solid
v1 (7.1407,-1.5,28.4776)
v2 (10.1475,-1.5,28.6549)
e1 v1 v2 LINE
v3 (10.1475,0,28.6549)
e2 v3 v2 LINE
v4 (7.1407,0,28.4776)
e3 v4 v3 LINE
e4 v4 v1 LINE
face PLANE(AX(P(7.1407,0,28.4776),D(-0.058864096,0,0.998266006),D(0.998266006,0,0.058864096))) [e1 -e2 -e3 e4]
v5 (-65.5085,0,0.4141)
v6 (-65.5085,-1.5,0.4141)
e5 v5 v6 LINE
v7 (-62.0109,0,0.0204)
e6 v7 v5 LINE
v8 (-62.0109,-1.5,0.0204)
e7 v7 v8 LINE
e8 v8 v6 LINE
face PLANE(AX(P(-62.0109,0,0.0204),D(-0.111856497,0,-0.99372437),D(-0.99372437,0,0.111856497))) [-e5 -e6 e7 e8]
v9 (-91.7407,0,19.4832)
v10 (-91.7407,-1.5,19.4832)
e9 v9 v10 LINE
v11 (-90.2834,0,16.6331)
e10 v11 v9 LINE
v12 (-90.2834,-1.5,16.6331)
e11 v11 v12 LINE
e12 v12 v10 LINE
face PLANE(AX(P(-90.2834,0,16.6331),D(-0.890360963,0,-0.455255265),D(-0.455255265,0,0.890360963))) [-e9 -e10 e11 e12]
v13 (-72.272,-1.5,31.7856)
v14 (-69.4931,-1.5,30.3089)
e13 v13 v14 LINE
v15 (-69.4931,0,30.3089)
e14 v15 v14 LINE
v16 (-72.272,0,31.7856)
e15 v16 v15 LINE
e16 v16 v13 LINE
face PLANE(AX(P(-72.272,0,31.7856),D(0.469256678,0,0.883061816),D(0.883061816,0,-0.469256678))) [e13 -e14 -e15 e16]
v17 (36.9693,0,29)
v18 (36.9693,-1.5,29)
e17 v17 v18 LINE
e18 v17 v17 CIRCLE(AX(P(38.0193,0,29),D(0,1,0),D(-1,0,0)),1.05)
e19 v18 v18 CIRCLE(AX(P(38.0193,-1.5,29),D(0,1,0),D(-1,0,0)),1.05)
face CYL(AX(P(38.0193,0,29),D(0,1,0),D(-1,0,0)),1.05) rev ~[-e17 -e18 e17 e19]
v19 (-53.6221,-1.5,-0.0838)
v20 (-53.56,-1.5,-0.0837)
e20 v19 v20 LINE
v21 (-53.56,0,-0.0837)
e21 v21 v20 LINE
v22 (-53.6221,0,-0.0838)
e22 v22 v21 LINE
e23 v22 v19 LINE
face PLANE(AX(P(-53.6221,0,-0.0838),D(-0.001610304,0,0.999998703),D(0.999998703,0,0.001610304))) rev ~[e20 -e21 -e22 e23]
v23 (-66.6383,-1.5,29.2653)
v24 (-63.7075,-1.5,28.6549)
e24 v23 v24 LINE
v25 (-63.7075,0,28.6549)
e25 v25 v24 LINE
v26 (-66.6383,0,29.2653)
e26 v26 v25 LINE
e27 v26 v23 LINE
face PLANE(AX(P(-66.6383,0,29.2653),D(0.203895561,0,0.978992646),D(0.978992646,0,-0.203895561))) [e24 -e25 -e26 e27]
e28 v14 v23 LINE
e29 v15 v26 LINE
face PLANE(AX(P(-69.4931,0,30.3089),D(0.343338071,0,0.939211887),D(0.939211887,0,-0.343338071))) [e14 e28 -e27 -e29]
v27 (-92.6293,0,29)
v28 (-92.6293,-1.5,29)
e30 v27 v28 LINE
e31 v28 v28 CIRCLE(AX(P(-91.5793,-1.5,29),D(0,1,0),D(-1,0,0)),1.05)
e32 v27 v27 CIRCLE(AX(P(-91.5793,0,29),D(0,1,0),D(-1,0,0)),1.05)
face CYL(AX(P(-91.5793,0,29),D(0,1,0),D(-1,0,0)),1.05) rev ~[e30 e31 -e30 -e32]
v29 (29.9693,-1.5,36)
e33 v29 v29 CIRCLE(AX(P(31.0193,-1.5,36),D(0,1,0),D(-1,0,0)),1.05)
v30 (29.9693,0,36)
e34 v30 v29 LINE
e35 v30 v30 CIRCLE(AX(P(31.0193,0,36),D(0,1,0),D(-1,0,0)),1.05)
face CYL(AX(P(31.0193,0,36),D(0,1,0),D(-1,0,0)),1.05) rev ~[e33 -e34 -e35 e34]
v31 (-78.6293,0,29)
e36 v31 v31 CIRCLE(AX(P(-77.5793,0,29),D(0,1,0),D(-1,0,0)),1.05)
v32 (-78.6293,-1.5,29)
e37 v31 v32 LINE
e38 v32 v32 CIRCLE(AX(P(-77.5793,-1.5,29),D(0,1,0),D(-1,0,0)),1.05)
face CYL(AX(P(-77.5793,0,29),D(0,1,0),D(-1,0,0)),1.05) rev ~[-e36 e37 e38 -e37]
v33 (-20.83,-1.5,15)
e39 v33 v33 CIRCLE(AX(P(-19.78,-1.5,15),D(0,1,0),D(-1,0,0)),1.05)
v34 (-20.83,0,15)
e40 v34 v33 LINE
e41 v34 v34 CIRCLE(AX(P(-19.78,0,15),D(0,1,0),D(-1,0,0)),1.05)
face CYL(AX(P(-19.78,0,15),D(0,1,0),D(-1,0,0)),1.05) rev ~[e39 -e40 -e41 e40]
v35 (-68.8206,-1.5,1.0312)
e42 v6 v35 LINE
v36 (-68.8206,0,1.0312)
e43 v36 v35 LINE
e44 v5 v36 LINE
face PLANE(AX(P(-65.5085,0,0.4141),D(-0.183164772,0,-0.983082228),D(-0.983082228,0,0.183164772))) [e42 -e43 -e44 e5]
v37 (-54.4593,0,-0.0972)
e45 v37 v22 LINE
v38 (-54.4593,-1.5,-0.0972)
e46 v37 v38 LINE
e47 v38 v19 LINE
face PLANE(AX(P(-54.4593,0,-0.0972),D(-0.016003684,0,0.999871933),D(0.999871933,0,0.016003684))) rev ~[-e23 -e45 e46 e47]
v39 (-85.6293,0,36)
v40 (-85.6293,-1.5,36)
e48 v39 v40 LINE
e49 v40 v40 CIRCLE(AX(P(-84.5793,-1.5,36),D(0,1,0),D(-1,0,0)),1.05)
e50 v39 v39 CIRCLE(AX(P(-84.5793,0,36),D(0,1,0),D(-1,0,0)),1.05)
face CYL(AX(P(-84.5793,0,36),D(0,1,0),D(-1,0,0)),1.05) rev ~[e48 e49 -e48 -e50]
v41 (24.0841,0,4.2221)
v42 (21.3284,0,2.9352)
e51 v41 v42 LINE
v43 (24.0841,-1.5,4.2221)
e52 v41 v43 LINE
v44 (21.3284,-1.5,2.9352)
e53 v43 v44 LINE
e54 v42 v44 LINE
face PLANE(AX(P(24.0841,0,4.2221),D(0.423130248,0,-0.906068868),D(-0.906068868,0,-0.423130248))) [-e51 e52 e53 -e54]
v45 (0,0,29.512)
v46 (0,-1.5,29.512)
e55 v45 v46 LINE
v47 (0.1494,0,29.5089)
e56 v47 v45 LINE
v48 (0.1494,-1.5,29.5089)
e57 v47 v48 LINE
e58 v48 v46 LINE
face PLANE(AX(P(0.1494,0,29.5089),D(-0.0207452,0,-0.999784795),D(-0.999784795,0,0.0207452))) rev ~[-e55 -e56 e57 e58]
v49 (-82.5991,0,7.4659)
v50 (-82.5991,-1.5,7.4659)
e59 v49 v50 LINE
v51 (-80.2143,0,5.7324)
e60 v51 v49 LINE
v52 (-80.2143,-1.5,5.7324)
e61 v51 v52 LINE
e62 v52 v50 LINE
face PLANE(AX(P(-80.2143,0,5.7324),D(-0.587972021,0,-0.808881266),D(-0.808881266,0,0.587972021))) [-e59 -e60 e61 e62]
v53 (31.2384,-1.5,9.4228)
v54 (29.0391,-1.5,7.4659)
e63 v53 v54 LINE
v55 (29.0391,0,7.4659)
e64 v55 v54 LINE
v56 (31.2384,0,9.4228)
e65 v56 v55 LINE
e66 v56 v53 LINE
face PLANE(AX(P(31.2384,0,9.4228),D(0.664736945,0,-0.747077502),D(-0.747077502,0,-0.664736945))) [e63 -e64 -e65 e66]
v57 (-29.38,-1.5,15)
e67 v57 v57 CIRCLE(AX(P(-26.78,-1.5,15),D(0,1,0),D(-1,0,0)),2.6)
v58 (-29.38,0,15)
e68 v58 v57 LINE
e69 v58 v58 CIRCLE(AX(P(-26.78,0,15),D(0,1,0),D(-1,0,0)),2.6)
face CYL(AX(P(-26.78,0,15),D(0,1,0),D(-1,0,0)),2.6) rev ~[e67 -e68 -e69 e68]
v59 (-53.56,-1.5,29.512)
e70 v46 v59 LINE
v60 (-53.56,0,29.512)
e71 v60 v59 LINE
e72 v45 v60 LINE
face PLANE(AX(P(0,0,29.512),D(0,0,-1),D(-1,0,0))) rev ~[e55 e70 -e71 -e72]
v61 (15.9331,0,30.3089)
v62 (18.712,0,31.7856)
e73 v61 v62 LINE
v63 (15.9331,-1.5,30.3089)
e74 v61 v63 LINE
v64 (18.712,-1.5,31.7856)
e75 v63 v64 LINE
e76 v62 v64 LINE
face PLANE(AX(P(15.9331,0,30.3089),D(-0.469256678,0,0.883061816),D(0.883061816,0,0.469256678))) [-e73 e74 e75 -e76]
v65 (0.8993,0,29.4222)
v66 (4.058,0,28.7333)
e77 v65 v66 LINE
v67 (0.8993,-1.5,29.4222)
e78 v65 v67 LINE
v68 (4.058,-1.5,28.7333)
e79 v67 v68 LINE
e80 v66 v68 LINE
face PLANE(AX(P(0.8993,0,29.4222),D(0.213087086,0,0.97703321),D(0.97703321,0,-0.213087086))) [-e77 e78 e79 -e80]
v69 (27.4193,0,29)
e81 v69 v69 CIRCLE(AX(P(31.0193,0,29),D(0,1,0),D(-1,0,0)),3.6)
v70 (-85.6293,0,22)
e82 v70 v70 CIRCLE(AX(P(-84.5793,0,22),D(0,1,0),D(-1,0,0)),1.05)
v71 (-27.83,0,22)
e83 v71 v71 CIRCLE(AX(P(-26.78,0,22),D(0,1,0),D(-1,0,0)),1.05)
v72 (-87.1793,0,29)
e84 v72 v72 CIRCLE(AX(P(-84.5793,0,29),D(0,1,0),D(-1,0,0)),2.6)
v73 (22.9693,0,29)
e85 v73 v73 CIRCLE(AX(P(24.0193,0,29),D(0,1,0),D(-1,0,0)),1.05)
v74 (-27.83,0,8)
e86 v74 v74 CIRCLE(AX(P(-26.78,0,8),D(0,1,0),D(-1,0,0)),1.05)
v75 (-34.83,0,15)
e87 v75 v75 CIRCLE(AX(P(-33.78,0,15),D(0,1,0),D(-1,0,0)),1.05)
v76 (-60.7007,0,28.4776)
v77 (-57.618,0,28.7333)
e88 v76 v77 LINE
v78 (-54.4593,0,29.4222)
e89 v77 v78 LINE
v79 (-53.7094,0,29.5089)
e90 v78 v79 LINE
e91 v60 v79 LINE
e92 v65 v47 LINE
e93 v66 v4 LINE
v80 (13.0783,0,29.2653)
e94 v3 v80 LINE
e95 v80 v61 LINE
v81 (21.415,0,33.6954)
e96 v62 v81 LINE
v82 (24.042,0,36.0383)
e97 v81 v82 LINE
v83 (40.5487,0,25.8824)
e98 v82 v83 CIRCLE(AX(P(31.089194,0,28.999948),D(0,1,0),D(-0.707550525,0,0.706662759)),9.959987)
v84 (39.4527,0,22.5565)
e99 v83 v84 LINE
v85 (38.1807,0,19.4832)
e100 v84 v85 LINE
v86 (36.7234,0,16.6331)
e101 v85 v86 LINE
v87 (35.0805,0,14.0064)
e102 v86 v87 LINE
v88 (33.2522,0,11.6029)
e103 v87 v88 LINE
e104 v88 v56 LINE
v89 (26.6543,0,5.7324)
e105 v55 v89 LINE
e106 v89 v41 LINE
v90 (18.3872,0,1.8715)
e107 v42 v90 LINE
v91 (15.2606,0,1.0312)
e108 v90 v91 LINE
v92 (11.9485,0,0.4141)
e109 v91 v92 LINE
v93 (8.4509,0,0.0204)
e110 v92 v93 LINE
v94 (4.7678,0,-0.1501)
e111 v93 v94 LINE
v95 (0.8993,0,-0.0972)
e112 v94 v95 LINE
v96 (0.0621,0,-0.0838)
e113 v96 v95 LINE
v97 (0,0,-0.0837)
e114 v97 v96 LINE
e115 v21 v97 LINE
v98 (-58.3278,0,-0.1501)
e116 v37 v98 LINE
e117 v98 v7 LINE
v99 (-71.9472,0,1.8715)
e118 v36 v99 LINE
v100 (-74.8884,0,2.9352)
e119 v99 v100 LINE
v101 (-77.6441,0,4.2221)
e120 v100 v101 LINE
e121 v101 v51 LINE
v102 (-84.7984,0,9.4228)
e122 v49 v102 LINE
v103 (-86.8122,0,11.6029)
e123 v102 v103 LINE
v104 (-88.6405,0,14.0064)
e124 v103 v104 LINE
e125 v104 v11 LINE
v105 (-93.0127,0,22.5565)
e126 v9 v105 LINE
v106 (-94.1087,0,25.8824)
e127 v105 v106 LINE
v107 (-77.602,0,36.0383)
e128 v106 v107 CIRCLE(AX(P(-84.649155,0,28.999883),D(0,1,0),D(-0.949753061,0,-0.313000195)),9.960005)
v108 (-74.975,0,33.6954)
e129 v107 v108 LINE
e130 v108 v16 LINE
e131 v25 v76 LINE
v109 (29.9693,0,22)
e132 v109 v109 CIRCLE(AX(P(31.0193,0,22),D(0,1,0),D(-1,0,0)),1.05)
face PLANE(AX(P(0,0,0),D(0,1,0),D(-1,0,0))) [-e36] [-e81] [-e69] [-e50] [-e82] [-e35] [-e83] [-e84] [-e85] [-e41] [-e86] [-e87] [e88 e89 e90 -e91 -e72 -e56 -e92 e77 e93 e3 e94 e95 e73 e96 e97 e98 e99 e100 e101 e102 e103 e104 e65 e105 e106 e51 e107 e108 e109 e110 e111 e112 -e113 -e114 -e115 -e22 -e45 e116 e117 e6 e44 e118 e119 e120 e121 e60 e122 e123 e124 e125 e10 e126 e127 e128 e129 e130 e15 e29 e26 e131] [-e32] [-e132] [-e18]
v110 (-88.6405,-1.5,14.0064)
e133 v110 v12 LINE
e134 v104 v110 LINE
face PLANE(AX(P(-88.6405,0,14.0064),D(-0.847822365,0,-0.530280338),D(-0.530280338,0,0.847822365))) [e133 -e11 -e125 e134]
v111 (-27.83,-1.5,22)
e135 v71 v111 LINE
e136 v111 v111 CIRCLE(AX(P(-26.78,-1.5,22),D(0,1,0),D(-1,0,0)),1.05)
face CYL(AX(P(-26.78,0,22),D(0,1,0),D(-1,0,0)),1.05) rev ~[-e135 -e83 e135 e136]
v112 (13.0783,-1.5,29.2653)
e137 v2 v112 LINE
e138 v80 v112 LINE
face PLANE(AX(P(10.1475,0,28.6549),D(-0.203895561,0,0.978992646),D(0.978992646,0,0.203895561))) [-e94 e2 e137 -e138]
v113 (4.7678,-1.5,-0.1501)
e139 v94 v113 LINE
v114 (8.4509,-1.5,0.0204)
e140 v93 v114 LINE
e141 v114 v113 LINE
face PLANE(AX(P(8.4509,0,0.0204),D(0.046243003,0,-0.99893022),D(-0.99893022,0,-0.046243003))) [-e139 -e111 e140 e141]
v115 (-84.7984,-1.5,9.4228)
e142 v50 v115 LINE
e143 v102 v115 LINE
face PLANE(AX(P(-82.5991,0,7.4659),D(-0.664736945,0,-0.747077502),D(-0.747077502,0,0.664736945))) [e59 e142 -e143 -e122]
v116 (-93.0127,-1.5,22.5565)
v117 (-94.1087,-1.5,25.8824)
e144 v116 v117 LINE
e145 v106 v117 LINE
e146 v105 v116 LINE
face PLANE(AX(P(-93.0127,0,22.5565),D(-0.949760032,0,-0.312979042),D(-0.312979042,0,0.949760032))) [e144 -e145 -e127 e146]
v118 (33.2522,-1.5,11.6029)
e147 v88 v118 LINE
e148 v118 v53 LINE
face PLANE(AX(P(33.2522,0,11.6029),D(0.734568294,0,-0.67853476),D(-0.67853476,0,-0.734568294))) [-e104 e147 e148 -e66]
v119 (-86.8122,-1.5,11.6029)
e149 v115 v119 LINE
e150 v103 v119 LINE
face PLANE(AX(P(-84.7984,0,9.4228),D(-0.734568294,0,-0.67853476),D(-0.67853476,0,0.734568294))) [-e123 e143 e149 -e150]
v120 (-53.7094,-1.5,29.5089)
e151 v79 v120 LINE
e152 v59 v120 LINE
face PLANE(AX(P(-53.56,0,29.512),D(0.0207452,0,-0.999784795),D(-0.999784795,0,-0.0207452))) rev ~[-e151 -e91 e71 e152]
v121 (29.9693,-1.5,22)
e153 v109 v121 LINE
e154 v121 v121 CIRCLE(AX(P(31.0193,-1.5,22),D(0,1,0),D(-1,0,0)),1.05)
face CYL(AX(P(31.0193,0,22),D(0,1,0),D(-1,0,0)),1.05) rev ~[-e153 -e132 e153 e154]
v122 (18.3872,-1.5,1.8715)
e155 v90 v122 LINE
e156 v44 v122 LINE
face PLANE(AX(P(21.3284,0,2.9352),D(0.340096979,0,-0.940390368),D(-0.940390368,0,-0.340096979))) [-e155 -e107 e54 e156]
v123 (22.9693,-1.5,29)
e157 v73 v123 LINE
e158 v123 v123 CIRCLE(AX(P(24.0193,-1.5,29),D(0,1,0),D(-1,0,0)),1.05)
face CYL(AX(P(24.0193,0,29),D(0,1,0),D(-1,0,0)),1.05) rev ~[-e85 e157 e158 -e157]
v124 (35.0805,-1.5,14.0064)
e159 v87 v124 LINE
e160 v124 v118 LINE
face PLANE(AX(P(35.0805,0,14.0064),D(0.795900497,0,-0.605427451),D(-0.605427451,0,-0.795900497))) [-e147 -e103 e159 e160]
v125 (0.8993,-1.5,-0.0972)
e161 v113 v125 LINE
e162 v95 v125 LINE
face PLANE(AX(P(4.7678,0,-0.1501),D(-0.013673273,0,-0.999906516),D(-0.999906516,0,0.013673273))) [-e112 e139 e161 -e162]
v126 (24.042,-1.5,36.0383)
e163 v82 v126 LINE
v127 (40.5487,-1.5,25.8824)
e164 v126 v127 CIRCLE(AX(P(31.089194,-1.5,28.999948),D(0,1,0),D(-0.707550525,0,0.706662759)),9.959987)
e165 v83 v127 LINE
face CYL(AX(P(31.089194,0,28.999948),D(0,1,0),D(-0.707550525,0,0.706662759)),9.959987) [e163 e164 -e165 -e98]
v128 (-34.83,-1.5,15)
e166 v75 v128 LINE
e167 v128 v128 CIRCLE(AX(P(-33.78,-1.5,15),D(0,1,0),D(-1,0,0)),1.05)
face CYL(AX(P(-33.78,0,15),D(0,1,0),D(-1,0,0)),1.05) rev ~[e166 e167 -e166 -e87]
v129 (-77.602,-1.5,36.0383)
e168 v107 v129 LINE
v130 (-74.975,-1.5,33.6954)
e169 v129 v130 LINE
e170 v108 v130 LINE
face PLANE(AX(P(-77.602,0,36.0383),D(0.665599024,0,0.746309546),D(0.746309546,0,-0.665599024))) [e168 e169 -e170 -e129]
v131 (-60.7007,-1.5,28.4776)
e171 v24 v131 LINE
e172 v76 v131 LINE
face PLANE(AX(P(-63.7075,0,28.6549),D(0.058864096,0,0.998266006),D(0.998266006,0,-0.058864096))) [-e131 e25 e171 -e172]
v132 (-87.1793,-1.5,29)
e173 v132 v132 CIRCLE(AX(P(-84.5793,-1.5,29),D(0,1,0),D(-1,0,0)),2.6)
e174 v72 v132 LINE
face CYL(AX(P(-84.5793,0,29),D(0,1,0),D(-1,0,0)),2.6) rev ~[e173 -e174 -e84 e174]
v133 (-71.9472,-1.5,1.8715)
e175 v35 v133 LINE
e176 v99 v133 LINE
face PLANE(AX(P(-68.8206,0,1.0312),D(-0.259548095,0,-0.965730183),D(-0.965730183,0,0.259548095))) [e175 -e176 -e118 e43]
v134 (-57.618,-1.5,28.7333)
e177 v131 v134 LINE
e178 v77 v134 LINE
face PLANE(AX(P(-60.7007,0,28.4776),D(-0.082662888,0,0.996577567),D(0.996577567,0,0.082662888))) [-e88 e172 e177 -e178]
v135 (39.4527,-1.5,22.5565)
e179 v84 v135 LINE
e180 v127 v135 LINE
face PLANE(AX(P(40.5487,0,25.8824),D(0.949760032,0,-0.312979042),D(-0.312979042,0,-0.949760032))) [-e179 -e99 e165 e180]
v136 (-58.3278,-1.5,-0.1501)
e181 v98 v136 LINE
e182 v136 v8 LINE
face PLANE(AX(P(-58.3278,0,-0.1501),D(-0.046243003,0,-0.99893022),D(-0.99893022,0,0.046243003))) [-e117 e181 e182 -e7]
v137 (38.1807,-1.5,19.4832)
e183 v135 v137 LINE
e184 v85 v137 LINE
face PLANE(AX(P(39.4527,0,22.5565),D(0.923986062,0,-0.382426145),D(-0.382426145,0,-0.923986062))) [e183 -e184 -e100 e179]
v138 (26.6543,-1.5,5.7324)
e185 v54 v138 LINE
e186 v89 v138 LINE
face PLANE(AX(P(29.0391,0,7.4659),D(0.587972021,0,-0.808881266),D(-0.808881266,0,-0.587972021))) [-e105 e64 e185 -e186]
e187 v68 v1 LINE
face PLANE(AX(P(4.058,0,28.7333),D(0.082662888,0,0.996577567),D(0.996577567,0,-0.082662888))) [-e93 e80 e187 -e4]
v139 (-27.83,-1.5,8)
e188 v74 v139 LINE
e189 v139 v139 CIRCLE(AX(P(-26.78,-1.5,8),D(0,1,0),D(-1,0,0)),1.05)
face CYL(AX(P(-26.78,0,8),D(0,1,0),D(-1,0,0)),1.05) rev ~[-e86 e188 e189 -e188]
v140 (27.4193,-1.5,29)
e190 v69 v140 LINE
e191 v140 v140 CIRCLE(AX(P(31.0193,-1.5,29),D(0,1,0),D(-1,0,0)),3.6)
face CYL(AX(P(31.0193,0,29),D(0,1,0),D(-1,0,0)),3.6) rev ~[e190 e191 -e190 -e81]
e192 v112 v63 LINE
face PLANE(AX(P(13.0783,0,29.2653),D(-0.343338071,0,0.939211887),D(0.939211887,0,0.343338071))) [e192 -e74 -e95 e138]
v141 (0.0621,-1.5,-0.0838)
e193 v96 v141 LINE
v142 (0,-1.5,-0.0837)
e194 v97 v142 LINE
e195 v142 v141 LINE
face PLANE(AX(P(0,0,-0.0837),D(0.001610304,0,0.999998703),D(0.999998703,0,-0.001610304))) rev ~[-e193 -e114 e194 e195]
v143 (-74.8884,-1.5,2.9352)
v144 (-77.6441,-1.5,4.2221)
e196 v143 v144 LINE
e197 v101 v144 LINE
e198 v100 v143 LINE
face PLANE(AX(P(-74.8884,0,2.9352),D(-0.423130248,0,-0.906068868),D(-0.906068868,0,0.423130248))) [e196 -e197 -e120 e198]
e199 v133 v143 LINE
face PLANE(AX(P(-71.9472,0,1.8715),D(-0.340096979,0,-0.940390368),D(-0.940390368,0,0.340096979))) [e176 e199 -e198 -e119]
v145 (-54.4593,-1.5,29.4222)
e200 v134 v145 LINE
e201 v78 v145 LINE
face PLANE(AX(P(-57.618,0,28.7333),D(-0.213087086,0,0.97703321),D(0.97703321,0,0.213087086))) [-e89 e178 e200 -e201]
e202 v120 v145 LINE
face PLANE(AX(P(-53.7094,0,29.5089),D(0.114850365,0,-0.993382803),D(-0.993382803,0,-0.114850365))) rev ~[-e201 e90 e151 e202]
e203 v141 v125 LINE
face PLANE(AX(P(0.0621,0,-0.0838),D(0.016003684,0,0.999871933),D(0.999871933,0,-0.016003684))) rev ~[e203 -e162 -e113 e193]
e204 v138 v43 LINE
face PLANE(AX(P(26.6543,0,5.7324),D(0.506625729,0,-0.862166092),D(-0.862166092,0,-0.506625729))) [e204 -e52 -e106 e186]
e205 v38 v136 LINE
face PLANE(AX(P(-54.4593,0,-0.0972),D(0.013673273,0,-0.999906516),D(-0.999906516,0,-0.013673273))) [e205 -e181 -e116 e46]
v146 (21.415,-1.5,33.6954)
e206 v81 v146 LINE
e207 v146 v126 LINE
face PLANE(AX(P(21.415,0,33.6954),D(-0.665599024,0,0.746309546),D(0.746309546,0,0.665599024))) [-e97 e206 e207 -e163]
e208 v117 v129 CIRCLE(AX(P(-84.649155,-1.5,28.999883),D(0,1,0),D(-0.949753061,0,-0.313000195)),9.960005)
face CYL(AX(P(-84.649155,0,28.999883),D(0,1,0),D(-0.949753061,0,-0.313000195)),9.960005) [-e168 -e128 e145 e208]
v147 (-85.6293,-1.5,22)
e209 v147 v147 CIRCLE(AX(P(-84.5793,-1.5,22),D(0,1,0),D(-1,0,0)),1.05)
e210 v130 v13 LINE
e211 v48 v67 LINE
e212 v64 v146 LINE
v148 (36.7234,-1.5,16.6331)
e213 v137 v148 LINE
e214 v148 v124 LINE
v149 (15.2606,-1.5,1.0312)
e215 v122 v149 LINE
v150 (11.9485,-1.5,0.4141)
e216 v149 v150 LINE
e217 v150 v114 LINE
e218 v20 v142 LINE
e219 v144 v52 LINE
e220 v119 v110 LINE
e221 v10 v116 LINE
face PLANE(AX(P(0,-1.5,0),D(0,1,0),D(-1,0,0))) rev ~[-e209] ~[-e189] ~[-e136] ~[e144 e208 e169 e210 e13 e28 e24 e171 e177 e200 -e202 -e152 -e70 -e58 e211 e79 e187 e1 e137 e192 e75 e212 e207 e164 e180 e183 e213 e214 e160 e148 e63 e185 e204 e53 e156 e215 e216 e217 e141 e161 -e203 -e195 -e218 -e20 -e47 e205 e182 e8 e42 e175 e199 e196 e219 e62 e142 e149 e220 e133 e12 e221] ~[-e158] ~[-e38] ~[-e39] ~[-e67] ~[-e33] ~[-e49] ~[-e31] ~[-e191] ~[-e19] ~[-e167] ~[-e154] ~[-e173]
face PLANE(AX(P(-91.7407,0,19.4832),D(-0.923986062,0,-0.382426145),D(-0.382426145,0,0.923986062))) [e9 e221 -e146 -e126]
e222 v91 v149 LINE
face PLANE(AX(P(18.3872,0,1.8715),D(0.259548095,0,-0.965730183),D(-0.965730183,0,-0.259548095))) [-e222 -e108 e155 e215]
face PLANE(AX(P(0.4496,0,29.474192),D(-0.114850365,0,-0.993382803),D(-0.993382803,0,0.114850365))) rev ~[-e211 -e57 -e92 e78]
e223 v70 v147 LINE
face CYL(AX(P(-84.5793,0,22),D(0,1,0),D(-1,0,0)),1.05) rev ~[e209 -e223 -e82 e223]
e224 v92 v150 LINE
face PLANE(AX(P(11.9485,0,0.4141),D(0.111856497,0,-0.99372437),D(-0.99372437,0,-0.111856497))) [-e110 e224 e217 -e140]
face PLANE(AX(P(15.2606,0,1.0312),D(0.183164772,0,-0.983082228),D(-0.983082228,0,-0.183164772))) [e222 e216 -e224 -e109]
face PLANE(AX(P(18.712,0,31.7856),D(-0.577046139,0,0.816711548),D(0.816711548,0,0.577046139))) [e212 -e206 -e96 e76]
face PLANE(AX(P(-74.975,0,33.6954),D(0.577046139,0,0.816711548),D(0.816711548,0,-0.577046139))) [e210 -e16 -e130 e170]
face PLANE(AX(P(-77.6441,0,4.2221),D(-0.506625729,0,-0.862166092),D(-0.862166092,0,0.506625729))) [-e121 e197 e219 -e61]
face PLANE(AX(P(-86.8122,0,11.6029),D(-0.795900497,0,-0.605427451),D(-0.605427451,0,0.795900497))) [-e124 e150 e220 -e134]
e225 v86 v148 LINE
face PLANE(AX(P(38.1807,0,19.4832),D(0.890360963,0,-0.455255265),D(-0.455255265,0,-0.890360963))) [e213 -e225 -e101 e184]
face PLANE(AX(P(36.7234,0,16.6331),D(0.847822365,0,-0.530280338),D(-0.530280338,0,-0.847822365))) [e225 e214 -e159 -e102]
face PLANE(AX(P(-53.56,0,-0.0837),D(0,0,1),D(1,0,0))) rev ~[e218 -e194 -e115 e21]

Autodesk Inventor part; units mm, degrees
ref_plane "YZ Plane" through (0, 0, 0) normal (1, 0, 0) x (0, 1, 0)
ref_plane "XZ Plane" through (0, 0, 0) normal (0, 1, 0) x (-1, 0, 0)
ref_plane "XY Plane" through (0, 0, 0) normal (0, 0, 1) x (1, 0, 0)
sketch "Sketch1" plane through (0, 0, 0) normal (0, 1, 0) x (-1, 0, 0)
  line L0 (-0.4496, 29.8144) -> (-0.4496, -0.0337)
  line L1 (54.0096, -0.0338) -> (54.0096, 29.8144)
  line L2 (53.5706, 0) -> (53.6221, -0.0838)
  line L3 (53.56, 0) -> (53.5706, 0)
  line L4 (53.56, -0.0837) -> (53.56, 0)
  line L5 (-0.0106, 0) -> (-0.0621, -0.0838)
  line L6 (-0.8993, -0.0972) -> (-0.0106, 0)
  line L7 (53.5706, 0) -> (54.4593, -0.0972)
  line L8 (0, 0) -> (0, -0.0837)
  line L9 (-0.0106, 0) -> (0, 0)
  line L10 (0, 0) -> (53.56, 0)
  line L11 (53.7094, 29.5089) -> (53.5853, 29.9994)
  line L12 (53.56, 29.512) -> (53.7094, 29.5089)
  line L13 (53.56, 30) -> (53.56, 29.512)
  line L14 (-0.1494, 29.5089) -> (-0.0253, 29.9994)
  line L15 (-0.8993, 29.4222) -> (-0.1494, 29.5089)
  line L16 (0, 29.512) -> (0, 30)
  line L17 (-0.1494, 29.5089) -> (0, 29.512)
  line L18 (53.7094, 29.5089) -> (54.4593, 29.4222)
  line L19 (0, 29.512) -> (53.56, 29.512)
  circle A0 centre (26.78, 15) radius 2.6
  circle A1 centre (84.5793, 29) radius 2.6
  circle A2 centre (-31.0193, 29) radius 3.6
  circle A3 centre (91.5793, 29) radius 1.05
  circle A4 centre (84.5793, 36) radius 1.05
  circle A5 centre (84.5793, 22) radius 1.05
  circle A6 centre (77.5793, 29) radius 1.05
  circle A7 centre (-38.0193, 29) radius 1.05
  circle A8 centre (-31.0193, 36) radius 1.05
  circle A9 centre (-31.0193, 22) radius 1.05
  circle A10 centre (-24.0193, 29) radius 1.05
  circle A11 centre (19.78, 15) radius 1.05
  circle A12 centre (26.78, 22) radius 1.05
  circle A13 centre (33.78, 15) radius 1.05
  circle A14 centre (26.78, 8) radius 1.05
  line L20 (53.5853, 29.9994) -> (53.56, 30)
  line L21 (53.6221, -0.0838) -> (53.56, -0.0837)
  line L22 (-0.0621, -0.0838) -> (-0.8993, -0.0972)
  line L23 (-0.0253, 29.9994) -> (-0.8993, 29.4222)
  line L24 (77.602, 36.0383) -> (74.975, 33.6954)
  line L25 (74.975, 33.6954) -> (72.272, 31.7856)
  line L26 (72.272, 31.7856) -> (69.4931, 30.3089)
  line L27 (69.4931, 30.3089) -> (66.6383, 29.2653)
  line L28 (66.6383, 29.2653) -> (63.7075, 28.6549)
  line L29 (63.7075, 28.6549) -> (60.7007, 28.4776)
  line L30 (60.7007, 28.4776) -> (57.618, 28.7333)
  line L31 (57.618, 28.7333) -> (54.4593, 29.4222)
  line L32 (54.4593, -0.0972) -> (53.6221, -0.0838)
  line L33 (-40.5487, 25.8824) -> (-39.4527, 22.5565)
  line L34 (-39.4527, 22.5565) -> (-38.1807, 19.4832)
  line L35 (-38.1807, 19.4832) -> (-36.7234, 16.6331)
  line L36 (-36.7234, 16.6331) -> (-35.0805, 14.0064)
  line L37 (-35.0805, 14.0064) -> (-33.2522, 11.6029)
  line L38 (-33.2522, 11.6029) -> (-31.2384, 9.4228)
  line L39 (-31.2384, 9.4228) -> (-29.0391, 7.4659)
  line L40 (-29.0391, 7.4659) -> (-26.6543, 5.7324)
  line L41 (-26.6543, 5.7324) -> (-24.0841, 4.2221)
  line L42 (-24.0841, 4.2221) -> (-21.3284, 2.9352)
  line L43 (-21.3284, 2.9352) -> (-18.3872, 1.8715)
  line L44 (-18.3872, 1.8715) -> (-15.2606, 1.0312)
  line L45 (-15.2606, 1.0312) -> (-11.9485, 0.4141)
  line L46 (-11.9485, 0.4141) -> (-8.4509, 0.0204)
  line L47 (-8.4509, 0.0204) -> (-4.7678, -0.1501)
  line L48 (-4.7678, -0.1501) -> (-0.8993, -0.0972)
  line L49 (0, 30) -> (-0.0253, 29.9994)
  line L50 (54.4593, -0.0972) -> (58.3278, -0.1501)
  line L51 (58.3278, -0.1501) -> (62.0109, 0.0204)
  line L52 (62.0109, 0.0204) -> (65.5085, 0.4141)
  line L53 (65.5085, 0.4141) -> (68.8206, 1.0312)
  line L54 (68.8206, 1.0312) -> (71.9472, 1.8715)
  line L55 (71.9472, 1.8715) -> (74.8884, 2.9352)
  line L56 (74.8884, 2.9352) -> (77.6441, 4.2221)
  line L57 (77.6441, 4.2221) -> (80.2143, 5.7324)
  line L58 (80.2143, 5.7324) -> (82.5991, 7.4659)
  line L59 (82.5991, 7.4659) -> (84.7984, 9.4228)
  line L60 (84.7984, 9.4228) -> (86.8122, 11.6029)
  line L61 (86.8122, 11.6029) -> (88.6405, 14.0064)
  line L62 (88.6405, 14.0064) -> (90.2834, 16.6331)
  line L63 (90.2834, 16.6331) -> (91.7407, 19.4832)
  line L64 (91.7407, 19.4832) -> (93.0127, 22.5565)
  line L65 (93.0127, 22.5565) -> (94.1087, 25.8824)
  line L66 (54.4593, 29.4222) -> (53.5853, 29.9994)
  line L67 (-0.8993, 29.4222) -> (-4.058, 28.7333)
  line L68 (-4.058, 28.7333) -> (-7.1407, 28.4776)
  line L69 (-7.1407, 28.4776) -> (-10.1475, 28.6549)
  line L70 (-10.1475, 28.6549) -> (-13.0783, 29.2653)
  line L71 (-13.0783, 29.2653) -> (-15.9331, 30.3089)
  line L72 (-15.9331, 30.3089) -> (-18.712, 31.7856)
  line L73 (-18.712, 31.7856) -> (-21.415, 33.6954)
  line L74 (-21.415, 33.6954) -> (-24.042, 36.0383)
  line L75 (0, -0.0837) -> (-0.0621, -0.0838)
  line L76 (53.56, 30) -> (0, 30)
  arc A15 (-24.042, 36.0383) -> (-40.5487, 25.8824) centre (-31.0892, 28.9999) ccw
  arc A16 (94.1087, 25.8824) -> (77.602, 36.0383) centre (84.6492, 28.9999) ccw
  line L77 (53.56, -0.0837) -> (0, -0.0837)
  line L78 (54.4593, 29.4222) -> (54.4593, -0.0972)
  line L79 (-0.8993, -0.0972) -> (-0.8993, 29.4222)
  line L80 (53.56, 0) -> (53.56, 30)
  line L81 (0, 30) -> (0, 0)
  point P0 (0, 0)
extrude "Extrusion2" add sketch "Sketch1" against normal blind 1.5 contours L15 L17 L81 L9 L6 L79 | L79 L48 L47 L46 L45 L44 L43 L42 L41 L40 L39 L38 L37 L36 L35 L34 L33 A15 L74 L73 L72 L71 L70 L69 L68 L67 | L6 L5 L22 | L19 L80 L10 L81 | L9 L8 L75 L5 | L12 L18 L78 L7 L3 L80 | L10 L4 L77 L8 | L3 L2 L21 L4 | L7 L32 L2 | L31 L30 L29 L28 L27 L26 L25 L24 A16 L65 L64 L63 L62 L61 L60 L59 L58 L57 L56 L55 L54 L53 L52 L51 L50 L78
sketch "Sketch2" plane through (0, 0, 0) normal (0, 1, 0) x (1, 0, 0)
  line L0 (-54.4593, -29.4222) -> (-54.4593, 0.0972) projected
  line L1 (0.8993, 0.0972) -> (0.8993, -29.4222) projected
  point P0 (0, 0)
properties part number "axis_15_bottom_frame"
